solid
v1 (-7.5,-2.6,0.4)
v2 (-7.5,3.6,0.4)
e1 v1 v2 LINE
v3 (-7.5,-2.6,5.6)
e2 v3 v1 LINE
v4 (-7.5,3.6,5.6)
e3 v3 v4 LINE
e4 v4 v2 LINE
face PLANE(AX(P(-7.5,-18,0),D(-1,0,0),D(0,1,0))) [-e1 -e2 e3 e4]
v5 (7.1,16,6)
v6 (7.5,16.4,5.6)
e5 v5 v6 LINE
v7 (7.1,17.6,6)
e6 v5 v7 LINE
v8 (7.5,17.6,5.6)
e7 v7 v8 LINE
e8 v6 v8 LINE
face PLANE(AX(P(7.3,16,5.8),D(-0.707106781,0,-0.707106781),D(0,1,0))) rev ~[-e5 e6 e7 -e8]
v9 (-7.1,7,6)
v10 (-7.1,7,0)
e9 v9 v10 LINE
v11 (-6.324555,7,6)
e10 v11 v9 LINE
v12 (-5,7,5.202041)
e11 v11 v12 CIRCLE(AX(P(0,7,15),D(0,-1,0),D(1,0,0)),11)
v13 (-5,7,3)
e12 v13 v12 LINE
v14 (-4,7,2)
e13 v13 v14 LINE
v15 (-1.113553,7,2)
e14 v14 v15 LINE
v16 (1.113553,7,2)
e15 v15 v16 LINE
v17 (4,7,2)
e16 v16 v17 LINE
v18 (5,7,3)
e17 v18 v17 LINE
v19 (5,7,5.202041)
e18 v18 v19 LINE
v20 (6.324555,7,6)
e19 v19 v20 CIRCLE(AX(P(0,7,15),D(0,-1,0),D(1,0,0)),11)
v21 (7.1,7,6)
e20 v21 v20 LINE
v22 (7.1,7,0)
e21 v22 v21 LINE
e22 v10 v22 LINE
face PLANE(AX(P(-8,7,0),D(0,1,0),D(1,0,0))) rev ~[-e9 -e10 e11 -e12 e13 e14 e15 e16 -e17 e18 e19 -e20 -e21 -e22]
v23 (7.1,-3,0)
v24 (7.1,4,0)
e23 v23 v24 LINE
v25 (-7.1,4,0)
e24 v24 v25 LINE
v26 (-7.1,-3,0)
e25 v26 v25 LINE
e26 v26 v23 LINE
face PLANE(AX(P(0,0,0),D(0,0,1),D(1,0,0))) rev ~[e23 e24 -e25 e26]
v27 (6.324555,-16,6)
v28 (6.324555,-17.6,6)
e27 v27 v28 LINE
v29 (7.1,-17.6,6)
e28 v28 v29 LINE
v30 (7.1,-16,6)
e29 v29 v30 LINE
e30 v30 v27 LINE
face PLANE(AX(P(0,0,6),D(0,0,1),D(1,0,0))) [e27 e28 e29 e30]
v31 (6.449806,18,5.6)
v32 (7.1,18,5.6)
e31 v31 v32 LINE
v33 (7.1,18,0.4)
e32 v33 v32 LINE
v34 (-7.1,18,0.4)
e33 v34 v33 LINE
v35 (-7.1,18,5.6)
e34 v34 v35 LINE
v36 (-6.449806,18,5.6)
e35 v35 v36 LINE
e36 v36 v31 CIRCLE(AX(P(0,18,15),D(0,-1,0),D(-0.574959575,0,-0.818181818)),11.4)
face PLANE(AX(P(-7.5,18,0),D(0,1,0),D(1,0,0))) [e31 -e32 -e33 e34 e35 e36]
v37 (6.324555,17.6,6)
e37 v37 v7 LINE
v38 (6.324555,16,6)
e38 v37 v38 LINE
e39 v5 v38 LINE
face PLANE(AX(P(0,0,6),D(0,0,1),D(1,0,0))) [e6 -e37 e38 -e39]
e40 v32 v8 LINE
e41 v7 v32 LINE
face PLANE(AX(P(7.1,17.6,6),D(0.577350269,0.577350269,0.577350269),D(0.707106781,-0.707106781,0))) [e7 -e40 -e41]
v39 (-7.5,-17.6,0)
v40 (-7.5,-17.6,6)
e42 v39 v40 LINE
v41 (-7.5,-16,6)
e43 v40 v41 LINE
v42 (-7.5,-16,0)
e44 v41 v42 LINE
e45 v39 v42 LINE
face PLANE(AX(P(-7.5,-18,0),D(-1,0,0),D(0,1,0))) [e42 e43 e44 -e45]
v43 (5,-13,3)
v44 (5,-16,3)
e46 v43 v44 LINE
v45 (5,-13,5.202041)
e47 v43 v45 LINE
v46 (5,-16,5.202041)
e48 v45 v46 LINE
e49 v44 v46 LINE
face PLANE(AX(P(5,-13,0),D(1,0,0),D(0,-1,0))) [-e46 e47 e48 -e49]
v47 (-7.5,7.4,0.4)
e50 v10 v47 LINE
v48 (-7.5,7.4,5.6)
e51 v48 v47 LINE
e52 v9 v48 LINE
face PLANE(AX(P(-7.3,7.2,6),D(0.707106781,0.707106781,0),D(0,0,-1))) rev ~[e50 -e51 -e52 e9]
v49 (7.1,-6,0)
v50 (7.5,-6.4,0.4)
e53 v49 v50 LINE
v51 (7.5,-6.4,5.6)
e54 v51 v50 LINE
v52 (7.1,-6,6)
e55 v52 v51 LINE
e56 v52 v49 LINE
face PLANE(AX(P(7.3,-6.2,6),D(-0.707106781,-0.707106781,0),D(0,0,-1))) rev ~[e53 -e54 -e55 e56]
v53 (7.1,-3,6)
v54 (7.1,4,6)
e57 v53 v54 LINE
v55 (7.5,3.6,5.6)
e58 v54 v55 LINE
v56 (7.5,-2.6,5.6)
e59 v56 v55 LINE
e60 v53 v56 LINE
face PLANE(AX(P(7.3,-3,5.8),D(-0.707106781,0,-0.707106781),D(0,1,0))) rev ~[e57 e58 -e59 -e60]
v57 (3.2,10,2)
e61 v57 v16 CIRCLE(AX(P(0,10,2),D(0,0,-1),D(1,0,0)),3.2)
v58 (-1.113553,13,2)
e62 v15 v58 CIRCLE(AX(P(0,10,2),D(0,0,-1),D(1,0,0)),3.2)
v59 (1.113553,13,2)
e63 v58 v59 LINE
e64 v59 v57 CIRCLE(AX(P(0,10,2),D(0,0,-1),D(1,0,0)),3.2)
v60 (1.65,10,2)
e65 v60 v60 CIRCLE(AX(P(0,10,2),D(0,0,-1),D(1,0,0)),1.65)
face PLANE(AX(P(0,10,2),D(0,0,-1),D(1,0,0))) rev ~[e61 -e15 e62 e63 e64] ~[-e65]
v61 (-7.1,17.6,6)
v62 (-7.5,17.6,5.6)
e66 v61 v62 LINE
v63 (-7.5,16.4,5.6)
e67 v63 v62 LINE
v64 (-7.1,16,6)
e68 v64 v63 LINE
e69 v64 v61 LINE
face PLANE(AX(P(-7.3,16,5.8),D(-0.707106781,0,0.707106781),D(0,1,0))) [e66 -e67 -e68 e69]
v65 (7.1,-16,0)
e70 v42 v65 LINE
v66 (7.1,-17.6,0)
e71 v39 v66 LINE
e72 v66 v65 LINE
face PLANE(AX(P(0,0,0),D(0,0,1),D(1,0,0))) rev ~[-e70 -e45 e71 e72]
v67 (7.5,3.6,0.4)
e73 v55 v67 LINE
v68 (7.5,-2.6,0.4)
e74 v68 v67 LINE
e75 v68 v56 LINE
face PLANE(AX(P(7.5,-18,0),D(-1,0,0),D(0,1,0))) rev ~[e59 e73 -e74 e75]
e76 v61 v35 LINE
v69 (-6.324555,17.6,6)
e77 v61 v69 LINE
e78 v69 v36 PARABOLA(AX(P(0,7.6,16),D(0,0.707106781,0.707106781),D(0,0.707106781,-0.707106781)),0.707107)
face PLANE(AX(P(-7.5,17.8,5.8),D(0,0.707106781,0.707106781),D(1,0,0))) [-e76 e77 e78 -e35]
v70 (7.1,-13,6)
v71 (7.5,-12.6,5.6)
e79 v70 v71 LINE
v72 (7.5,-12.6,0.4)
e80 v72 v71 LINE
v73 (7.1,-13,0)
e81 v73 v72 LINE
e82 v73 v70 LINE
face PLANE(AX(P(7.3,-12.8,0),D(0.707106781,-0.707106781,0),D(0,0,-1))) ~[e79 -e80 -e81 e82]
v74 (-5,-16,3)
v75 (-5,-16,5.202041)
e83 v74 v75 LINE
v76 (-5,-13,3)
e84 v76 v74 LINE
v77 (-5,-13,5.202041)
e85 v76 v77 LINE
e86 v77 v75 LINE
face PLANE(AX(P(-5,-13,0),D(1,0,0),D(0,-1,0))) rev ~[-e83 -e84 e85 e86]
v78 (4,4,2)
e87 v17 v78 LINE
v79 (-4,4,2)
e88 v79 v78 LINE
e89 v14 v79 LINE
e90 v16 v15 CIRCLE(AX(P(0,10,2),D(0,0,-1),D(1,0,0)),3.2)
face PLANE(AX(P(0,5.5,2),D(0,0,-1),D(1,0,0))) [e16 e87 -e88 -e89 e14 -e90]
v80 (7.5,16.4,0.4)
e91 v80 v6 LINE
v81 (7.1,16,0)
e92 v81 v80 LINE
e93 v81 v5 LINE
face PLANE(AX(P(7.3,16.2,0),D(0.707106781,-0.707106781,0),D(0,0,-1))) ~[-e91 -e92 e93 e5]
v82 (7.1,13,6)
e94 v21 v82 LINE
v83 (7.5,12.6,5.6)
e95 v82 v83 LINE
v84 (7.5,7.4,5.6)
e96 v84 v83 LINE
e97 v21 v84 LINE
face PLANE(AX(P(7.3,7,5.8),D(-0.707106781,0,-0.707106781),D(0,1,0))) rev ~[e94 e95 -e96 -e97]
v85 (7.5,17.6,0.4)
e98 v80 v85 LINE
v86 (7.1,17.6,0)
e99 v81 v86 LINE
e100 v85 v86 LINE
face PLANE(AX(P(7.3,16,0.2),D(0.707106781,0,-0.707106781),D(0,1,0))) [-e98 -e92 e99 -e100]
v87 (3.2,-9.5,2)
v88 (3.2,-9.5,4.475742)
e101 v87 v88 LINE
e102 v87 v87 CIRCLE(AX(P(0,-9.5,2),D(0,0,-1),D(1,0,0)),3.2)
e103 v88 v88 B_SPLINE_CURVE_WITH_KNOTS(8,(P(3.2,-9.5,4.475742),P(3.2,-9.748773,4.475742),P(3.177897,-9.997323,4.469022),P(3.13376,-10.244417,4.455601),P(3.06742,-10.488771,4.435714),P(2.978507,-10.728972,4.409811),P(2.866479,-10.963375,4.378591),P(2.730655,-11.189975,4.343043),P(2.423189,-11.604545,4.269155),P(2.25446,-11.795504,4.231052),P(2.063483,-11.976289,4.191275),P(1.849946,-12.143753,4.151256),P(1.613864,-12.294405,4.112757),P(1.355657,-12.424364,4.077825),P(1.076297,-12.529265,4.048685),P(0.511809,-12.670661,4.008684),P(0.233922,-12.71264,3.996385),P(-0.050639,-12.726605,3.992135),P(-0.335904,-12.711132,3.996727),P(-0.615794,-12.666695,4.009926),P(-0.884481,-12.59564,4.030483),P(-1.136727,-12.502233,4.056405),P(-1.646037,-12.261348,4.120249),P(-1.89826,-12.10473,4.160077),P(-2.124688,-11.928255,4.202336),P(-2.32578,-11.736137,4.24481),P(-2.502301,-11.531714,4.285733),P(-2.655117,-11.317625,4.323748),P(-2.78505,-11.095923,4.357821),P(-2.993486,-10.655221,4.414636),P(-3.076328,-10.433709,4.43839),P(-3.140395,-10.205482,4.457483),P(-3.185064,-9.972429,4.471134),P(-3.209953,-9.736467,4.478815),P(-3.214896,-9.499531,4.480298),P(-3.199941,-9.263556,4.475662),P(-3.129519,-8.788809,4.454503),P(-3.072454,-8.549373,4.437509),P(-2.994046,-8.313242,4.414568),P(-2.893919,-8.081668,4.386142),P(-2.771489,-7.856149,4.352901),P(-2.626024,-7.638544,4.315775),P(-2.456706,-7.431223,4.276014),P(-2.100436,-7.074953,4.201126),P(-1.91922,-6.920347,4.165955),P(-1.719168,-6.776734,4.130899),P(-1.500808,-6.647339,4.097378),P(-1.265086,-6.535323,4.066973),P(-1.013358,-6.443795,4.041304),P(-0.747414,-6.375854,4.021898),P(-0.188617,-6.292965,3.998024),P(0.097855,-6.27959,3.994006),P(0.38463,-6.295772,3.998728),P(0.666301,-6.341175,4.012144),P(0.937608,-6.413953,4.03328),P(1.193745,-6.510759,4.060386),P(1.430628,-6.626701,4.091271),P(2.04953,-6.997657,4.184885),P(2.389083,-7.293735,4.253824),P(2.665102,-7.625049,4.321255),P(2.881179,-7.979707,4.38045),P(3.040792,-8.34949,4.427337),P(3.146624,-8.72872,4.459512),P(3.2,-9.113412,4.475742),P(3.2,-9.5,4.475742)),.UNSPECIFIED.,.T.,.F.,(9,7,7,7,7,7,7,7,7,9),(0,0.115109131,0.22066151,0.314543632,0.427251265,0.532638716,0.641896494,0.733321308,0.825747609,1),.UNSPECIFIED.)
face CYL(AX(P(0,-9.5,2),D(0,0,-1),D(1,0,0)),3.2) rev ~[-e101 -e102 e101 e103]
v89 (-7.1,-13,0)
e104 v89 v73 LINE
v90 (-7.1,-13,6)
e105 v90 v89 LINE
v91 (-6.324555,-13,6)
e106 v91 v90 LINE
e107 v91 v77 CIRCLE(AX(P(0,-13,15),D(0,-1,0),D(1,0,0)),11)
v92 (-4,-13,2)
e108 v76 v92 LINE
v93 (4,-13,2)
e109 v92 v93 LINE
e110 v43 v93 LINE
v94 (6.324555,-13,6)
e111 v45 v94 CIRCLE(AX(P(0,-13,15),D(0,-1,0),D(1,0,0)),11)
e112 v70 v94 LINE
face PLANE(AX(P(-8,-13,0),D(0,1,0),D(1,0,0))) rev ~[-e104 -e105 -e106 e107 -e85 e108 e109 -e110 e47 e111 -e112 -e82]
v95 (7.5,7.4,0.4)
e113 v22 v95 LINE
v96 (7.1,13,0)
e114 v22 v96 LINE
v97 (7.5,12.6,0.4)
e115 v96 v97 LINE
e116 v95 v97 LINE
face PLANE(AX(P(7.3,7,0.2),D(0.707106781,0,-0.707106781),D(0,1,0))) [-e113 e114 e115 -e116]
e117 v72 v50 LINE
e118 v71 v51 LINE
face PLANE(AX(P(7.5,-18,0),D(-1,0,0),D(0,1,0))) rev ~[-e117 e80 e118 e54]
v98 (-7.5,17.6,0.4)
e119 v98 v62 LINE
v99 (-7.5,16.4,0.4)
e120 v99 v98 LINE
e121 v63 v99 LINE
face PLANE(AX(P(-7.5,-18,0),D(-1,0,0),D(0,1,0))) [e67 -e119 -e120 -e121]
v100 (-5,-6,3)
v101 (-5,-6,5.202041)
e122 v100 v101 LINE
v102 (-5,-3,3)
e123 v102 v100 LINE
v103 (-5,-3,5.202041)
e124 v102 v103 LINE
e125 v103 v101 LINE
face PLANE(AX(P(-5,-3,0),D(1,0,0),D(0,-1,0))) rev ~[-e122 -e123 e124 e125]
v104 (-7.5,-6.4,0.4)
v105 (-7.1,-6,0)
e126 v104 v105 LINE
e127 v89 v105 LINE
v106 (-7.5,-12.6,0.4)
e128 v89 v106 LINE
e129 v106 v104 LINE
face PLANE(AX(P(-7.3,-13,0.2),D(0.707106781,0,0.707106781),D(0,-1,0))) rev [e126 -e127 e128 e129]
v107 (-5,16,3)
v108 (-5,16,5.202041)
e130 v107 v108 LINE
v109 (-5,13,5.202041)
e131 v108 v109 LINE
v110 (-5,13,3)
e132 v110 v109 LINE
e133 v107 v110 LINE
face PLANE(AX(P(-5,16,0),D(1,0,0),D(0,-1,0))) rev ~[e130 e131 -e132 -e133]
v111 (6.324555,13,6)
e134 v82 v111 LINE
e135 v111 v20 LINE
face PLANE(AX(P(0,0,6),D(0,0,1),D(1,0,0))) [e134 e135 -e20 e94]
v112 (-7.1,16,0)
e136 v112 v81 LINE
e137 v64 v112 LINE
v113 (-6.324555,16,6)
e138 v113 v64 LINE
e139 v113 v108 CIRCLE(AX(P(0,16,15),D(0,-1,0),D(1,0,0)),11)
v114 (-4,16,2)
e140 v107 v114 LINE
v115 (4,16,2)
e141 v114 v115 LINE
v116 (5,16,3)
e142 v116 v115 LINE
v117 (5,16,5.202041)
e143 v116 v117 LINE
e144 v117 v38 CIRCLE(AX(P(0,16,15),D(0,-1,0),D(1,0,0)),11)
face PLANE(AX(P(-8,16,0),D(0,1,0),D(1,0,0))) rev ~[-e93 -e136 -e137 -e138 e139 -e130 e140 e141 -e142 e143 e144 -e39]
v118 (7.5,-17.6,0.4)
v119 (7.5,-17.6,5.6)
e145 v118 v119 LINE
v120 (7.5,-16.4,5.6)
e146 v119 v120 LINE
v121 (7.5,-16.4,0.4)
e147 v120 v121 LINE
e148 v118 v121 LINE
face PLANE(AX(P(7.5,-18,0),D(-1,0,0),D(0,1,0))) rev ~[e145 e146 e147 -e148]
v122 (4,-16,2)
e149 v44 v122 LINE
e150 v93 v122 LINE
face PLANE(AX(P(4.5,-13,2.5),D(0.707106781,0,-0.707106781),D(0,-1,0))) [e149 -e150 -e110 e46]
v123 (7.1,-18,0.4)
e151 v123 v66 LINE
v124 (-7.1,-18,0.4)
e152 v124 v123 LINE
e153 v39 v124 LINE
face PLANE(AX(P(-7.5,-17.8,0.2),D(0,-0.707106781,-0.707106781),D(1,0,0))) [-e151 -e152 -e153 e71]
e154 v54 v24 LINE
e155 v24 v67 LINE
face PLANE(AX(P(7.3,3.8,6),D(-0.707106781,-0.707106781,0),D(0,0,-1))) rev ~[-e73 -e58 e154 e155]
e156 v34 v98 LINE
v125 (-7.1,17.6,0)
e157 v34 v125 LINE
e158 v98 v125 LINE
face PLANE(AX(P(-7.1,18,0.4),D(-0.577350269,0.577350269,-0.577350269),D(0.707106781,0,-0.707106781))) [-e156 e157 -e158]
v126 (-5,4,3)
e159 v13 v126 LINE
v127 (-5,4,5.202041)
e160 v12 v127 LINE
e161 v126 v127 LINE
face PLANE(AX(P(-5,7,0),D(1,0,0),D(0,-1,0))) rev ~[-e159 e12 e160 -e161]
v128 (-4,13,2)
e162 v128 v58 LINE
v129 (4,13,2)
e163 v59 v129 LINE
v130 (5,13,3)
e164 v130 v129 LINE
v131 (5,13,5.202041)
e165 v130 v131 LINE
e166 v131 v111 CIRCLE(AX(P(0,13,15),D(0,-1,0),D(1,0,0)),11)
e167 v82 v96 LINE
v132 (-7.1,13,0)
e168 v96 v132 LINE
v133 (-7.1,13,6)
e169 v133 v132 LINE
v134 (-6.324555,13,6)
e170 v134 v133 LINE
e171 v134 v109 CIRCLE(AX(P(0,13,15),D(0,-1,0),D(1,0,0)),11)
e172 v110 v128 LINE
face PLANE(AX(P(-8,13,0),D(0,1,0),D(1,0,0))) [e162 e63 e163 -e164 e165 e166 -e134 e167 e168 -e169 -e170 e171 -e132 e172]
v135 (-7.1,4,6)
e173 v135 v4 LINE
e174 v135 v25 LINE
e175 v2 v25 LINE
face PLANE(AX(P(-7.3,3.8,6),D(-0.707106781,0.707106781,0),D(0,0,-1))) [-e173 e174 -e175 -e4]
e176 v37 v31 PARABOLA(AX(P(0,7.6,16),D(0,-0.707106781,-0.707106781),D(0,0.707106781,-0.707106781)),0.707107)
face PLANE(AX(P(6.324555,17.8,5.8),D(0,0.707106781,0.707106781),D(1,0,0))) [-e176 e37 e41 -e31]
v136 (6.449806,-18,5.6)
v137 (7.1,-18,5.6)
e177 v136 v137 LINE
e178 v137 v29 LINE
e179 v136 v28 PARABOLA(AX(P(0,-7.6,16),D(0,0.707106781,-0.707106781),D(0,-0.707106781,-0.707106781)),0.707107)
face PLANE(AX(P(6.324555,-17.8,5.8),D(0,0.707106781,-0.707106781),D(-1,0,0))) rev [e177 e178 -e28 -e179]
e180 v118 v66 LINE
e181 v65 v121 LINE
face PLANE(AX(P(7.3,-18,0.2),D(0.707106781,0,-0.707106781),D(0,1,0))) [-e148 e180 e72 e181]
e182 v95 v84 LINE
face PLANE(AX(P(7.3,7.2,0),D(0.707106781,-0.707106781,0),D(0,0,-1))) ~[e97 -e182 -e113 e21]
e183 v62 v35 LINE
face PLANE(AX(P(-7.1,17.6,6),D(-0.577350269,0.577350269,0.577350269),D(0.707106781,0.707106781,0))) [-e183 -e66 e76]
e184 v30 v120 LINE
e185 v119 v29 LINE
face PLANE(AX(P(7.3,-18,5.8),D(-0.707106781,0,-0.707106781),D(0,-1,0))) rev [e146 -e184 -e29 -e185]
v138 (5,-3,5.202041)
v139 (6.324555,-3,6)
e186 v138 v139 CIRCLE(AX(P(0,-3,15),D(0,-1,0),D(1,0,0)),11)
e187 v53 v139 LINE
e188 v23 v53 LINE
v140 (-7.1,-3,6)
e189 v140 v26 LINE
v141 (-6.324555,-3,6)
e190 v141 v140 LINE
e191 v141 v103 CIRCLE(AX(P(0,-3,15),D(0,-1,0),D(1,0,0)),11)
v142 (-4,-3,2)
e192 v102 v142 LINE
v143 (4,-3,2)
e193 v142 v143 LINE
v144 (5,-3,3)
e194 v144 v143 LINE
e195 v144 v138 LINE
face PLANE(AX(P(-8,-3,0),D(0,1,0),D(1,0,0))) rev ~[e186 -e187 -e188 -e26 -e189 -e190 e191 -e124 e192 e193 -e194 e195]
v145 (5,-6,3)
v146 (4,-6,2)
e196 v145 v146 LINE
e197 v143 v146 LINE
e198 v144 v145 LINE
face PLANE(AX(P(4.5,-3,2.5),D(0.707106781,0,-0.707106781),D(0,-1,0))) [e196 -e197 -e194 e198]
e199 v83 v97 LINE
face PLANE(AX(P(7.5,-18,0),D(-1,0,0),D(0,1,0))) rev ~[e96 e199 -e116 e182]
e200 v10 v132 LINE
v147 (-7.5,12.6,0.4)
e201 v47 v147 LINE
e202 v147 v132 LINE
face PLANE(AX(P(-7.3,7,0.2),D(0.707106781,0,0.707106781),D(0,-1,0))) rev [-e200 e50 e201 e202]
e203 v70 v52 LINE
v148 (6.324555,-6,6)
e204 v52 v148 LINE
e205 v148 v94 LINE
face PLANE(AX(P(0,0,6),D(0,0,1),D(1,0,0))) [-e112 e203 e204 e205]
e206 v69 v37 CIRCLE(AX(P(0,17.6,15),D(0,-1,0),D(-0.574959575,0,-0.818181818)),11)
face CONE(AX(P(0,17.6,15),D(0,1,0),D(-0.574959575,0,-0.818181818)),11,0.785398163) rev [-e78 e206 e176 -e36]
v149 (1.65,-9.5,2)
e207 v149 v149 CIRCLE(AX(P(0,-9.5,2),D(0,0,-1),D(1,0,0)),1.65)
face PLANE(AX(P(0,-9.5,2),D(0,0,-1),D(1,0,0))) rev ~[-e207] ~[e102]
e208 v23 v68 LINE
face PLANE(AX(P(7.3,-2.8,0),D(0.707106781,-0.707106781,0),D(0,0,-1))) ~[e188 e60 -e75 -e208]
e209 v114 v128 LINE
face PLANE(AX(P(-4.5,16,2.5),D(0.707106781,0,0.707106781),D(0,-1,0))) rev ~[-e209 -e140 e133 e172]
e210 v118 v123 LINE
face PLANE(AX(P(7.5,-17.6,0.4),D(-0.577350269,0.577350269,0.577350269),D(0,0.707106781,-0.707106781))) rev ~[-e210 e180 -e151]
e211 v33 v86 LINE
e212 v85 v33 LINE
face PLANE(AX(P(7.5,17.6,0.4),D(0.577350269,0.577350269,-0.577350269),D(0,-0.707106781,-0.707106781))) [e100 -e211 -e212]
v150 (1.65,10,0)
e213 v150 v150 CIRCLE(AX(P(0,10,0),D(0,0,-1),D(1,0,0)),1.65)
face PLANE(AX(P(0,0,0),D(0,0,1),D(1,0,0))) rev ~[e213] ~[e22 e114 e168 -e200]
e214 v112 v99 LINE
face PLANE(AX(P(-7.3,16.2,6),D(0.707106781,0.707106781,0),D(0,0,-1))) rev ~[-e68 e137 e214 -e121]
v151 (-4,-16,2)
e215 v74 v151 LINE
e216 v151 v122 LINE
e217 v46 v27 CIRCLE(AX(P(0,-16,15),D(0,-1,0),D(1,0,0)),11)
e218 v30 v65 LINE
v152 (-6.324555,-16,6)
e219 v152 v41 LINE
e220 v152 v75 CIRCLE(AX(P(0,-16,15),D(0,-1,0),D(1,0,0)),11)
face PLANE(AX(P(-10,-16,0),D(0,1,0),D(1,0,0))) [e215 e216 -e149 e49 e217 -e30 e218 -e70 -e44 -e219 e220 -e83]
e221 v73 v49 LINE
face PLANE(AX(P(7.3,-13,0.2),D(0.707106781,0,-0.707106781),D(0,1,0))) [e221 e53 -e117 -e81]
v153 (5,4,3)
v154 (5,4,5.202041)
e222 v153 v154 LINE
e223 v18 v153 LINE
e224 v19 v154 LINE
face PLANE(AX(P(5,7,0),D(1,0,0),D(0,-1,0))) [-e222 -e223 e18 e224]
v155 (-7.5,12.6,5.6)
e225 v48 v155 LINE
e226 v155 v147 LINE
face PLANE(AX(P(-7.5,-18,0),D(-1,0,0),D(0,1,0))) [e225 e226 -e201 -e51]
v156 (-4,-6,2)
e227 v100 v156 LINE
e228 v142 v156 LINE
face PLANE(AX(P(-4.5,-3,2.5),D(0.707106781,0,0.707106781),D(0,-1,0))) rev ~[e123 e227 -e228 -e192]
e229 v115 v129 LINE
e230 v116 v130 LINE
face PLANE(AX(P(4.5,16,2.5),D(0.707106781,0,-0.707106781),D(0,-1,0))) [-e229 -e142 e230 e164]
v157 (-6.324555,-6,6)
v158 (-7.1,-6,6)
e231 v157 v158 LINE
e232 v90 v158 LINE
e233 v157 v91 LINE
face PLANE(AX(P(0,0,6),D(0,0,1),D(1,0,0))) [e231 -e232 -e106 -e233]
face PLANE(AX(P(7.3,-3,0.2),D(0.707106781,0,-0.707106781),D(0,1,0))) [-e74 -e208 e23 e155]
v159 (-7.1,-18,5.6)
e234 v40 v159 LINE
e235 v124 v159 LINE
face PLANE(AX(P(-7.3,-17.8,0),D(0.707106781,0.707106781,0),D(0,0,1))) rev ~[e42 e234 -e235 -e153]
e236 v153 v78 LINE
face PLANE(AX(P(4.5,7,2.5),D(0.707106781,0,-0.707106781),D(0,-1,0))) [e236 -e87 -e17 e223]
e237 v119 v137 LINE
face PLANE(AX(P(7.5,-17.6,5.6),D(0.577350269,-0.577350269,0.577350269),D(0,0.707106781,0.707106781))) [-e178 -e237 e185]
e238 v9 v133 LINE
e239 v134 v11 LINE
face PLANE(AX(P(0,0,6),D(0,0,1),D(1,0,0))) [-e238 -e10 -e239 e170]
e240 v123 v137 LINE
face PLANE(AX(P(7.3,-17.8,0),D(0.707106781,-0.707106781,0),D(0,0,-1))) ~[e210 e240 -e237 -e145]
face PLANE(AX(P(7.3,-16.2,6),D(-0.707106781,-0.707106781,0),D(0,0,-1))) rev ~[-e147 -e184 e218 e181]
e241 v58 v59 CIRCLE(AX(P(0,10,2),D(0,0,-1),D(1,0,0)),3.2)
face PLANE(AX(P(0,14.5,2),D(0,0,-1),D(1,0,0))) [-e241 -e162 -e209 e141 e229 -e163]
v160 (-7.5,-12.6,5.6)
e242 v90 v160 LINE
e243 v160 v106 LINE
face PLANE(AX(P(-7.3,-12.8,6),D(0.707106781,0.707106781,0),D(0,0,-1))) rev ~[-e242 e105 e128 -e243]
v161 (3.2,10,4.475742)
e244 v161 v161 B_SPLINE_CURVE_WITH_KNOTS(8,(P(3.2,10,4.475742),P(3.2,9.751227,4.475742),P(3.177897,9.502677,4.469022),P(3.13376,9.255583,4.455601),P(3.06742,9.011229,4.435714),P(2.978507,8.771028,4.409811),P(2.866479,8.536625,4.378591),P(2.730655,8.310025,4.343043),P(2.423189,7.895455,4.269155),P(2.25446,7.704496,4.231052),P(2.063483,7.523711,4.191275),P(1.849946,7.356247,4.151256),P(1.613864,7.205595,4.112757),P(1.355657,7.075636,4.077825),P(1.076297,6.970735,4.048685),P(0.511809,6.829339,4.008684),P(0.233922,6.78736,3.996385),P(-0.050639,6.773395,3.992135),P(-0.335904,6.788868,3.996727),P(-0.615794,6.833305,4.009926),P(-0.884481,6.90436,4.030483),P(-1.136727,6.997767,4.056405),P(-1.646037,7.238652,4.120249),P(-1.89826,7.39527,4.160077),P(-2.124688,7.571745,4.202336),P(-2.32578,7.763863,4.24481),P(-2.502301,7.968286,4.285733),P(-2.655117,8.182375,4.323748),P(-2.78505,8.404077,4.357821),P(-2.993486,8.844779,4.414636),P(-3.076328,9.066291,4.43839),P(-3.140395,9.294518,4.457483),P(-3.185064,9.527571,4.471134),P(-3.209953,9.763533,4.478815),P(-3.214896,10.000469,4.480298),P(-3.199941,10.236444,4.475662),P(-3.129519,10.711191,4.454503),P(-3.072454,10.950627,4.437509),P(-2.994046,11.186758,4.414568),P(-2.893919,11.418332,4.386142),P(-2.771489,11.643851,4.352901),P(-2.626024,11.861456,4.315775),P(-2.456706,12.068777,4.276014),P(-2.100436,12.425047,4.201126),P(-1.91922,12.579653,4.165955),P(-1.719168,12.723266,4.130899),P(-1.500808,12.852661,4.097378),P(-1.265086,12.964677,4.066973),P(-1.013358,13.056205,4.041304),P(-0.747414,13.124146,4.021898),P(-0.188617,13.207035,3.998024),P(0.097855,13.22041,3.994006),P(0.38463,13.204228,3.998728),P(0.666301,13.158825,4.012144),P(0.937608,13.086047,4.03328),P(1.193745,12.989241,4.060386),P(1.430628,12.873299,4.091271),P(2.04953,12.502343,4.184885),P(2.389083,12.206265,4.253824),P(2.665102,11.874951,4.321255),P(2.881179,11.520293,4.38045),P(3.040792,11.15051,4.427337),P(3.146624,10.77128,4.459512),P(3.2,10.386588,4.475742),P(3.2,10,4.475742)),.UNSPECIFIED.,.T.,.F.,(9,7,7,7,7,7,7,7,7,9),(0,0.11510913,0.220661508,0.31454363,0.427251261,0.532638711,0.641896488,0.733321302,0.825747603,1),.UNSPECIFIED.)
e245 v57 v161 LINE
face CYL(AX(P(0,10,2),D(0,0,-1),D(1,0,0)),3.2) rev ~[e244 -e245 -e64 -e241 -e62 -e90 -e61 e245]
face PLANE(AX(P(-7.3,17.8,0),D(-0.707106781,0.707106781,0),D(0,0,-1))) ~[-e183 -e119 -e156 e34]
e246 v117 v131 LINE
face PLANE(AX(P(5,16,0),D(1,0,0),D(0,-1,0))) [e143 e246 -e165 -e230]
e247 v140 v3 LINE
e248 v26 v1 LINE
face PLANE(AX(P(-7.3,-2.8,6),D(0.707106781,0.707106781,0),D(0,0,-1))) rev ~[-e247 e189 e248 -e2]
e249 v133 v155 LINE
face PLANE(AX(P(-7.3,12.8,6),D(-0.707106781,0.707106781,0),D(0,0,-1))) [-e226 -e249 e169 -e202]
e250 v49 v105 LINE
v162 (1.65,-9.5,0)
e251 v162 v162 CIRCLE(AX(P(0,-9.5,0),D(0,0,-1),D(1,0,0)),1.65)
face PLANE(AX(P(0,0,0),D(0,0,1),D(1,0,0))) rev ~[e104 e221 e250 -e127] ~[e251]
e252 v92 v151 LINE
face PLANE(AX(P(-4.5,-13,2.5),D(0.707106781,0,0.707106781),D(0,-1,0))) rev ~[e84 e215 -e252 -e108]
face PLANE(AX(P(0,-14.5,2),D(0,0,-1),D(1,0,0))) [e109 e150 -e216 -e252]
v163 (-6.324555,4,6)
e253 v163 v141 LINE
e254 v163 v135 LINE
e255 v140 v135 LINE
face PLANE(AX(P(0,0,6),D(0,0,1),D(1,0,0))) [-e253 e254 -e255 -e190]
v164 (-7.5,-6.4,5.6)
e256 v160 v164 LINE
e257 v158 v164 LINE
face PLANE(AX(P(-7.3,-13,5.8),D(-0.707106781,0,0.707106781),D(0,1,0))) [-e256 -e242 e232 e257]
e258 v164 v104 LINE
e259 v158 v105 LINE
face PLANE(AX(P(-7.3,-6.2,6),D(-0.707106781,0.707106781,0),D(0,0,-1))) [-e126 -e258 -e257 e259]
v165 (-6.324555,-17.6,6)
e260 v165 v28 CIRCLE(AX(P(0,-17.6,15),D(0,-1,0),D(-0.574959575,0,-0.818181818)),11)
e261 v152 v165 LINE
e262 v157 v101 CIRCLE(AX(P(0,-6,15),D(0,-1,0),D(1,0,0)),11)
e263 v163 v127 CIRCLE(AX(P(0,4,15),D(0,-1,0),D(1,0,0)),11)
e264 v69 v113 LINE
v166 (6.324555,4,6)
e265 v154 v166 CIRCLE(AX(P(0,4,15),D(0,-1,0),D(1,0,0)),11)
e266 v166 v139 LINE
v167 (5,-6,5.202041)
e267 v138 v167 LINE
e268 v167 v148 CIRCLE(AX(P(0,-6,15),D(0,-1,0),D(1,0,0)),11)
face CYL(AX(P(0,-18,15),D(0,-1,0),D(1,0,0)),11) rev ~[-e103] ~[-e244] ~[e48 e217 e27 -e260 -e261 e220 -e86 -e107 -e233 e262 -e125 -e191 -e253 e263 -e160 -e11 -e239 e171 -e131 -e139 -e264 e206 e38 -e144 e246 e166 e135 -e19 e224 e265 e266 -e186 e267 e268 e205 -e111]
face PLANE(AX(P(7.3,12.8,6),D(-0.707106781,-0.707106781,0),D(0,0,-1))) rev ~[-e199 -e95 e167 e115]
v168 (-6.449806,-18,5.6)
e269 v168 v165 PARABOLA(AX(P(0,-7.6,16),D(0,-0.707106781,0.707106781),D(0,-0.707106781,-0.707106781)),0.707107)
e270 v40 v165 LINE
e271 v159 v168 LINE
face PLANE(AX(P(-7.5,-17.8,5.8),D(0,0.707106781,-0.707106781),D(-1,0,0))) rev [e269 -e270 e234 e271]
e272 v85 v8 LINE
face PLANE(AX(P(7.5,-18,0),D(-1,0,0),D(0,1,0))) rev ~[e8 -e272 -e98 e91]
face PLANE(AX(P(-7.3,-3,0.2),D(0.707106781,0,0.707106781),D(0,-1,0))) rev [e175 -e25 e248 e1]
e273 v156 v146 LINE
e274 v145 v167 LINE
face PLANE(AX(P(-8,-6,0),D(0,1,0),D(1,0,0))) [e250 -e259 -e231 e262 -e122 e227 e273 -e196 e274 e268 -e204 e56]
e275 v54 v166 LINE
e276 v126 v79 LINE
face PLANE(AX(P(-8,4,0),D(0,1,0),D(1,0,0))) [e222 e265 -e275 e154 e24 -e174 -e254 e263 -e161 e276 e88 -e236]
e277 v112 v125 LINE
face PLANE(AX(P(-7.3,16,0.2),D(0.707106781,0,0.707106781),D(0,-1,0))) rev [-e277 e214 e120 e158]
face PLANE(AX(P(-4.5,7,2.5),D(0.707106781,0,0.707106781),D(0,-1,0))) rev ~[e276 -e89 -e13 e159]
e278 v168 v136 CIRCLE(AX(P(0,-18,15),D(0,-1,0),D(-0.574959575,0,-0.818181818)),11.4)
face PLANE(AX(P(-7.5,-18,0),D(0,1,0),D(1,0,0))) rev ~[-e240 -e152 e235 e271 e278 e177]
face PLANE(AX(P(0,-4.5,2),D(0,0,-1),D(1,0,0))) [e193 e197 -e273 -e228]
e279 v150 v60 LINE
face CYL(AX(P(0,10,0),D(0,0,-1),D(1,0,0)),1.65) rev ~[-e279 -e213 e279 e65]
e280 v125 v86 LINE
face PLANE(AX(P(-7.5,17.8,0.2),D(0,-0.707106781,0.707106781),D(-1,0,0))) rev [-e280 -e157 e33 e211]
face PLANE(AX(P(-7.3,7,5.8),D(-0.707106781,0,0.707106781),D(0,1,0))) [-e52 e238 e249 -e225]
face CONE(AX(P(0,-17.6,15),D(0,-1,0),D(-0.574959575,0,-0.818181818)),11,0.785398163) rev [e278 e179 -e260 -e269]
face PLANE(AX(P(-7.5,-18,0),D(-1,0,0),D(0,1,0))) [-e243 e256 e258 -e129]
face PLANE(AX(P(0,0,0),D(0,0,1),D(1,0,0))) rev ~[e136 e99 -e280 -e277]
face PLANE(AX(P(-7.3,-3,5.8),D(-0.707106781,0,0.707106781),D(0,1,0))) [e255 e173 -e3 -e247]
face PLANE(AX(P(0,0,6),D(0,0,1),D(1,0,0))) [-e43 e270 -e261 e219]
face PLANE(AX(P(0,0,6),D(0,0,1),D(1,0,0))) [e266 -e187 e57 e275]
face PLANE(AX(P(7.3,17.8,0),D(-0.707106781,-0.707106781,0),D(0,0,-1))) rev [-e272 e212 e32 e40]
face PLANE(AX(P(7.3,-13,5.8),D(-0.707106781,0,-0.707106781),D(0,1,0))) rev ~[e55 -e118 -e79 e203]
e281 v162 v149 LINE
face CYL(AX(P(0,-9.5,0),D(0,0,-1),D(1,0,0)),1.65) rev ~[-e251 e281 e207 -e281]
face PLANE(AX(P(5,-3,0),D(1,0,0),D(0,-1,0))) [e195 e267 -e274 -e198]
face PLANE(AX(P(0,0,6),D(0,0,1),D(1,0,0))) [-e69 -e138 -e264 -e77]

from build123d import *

# Parameters (mm, degrees)
SKETCH_W                                   = 15
SKETCH_H                                   = 36
PAD_DEPTH                                  = 6
SKETCH001_W                                = 20
SKETCH001_H                                = 3
POCKET_DEPTH                               = 2
SKETCH002_W                                = 3
SKETCH002_H                                = 3
POCKET001_DEPTH                            = 6.001
SKETCH003_R                                = 11
POCKET002_DEPTH                            = 36.001
SKETCH004_R                                = 1.65
POCKET003_DEPTH                            = 6.001
SKETCH005_R                                = 3.2
POCKET004_DEPTH                            = 4.001
CHAMFER004013007011015006009007001023_SIZE = 0.4
CHAMFER004013007011015006009007001024_SIZE = 1


with BuildPart() as part:
    # Sketch → Pad (new body)
    with BuildSketch(Plane.XY):
        Rectangle(SKETCH_W, SKETCH_H)
    extrude(amount=PAD_DEPTH)

    # Sketch001 (on Face5 of Pad) → Pocket (cut)
    with BuildSketch(Plane(origin=(0, 0, 0), x_dir=(1, 0, 0), z_dir=(0, 0, -1))):
        with Locations((0, 14.5)):
            Rectangle(SKETCH001_W, SKETCH001_H)
        with Locations((0, 4.5)):
            Rectangle(SKETCH001_W, SKETCH001_H)
        with Locations((0, -5.5)):
            Rectangle(SKETCH001_W, SKETCH001_H)
        with Locations((0, -14.5)):
            Rectangle(SKETCH001_W, SKETCH001_H)
    extrude(amount=-POCKET_DEPTH, mode=Mode.SUBTRACT)

    # Sketch002 (on Face10 of Pocket) → Pocket001 (cut, through all)
    with BuildSketch(Plane(origin=(0, 0, 0), x_dir=(1, 0, 0), z_dir=(0, 0, -1))):
        with Locations((-6.5, 14.5)):
            Rectangle(SKETCH002_W, SKETCH002_H)
        with Locations((6.5, 14.5)):
            Rectangle(SKETCH002_W, SKETCH002_H)
        with Locations((-6.5, 4.5)):
            Rectangle(SKETCH002_W, SKETCH002_H)
        with Locations((6.5, 4.5)):
            Rectangle(SKETCH002_W, SKETCH002_H)
        with Locations((-6.5, -5.5)):
            Rectangle(SKETCH002_W, SKETCH002_H)
        with Locations((6.5, -5.5)):
            Rectangle(SKETCH002_W, SKETCH002_H)
        with Locations((-6.5, -14.5)):
            Rectangle(SKETCH002_W, SKETCH002_H)
        with Locations((6.5, -14.5)):
            Rectangle(SKETCH002_W, SKETCH002_H)
    extrude(amount=-POCKET001_DEPTH, mode=Mode.SUBTRACT)

    # Sketch003 (on Face26 of Pocket001) → Pocket002 (cut, through all)
    with BuildSketch(Plane.XZ.offset(18)):
        with Locations((0, 15)):
            Circle(SKETCH003_R)
    extrude(amount=-POCKET002_DEPTH, mode=Mode.SUBTRACT)

    # Sketch004 (on Face77 of Pocket002) → Pocket003 (cut, through all)
    with BuildSketch(Plane(origin=(0, 0, 0), x_dir=(1, 0, 0), z_dir=(0, 0, -1))):
        with Locations((0, 9.5)):
            Circle(SKETCH004_R)
        with Locations((0, -10)):
            Circle(SKETCH004_R)
    extrude(amount=-POCKET003_DEPTH, mode=Mode.SUBTRACT)

    # Sketch005 (on Face74 of Pocket003) → Pocket004 (cut, through all)
    with BuildSketch(Plane(origin=(0, 0, 2), x_dir=(1, 0, 0), z_dir=(0, 0, -1))):
        with Locations((0, 9.5)):
            Circle(SKETCH005_R)
        with Locations((0, -10)):
            Circle(SKETCH005_R)
    extrude(amount=-POCKET004_DEPTH, mode=Mode.SUBTRACT)

    # Chamfer004013007011015006009007001023
    chamfer004013007011015006009007001023_edges = [part.edges().sort_by_distance(p)[0] for p in [
        (0, -18, 0),
        (-7.5, -18, 3),
        (-6.912278, -18, 6),
        (0, -18, 4),
        (6.912278, -18, 6),
        (7.5, -18, 3),
        (-7.5, -13, 1),
        (-7.5, -9.5, 0),
        (-7.5, -6, 1),
        (-7.5, -6, 4),
        (-7.5, -9.5, 6),
        (-7.5, -13, 4),
        (-7.5, -3, 4),
        (-7.5, -3, 1),
        (-7.5, 0.5, 0),
        (-7.5, 4, 1),
        (-7.5, 4, 4),
        (-7.5, 0.5, 6),
        (-7.5, 7, 4),
        (-7.5, 7, 1),
        (-7.5, 10, 0),
        (-7.5, 13, 1),
        (-7.5, 13, 4),
        (-7.5, 10, 6),
        (-7.5, 16, 4),
        (-7.5, 16, 1),
        (-7.5, 17, 0),
        (-7.5, 18, 3),
        (-7.5, 17, 6),
        (0, 18, 0),
        (7.5, 18, 3),
        (6.912278, 18, 6),
        (0, 18, 4),
        (-6.912278, 18, 6),
        (7.5, -16, 4),
        (7.5, -16, 1),
        (7.5, -17, 0),
        (7.5, -17, 6),
        (7.5, -6, 4),
        (7.5, -6, 1),
        (7.5, -9.5, 0),
        (7.5, -13, 1),
        (7.5, -13, 4),
        (7.5, -9.5, 6),
        (7.5, 4, 4),
        (7.5, 4, 1),
        (7.5, 0.5, 0),
        (7.5, -3, 1),
        (7.5, -3, 4),
        (7.5, 0.5, 6),
        (7.5, 13, 1),
        (7.5, 10, 0),
        (7.5, 7, 1),
        (7.5, 7, 4),
        (7.5, 10, 6),
        (7.5, 13, 4),
        (7.5, 17, 0),
        (7.5, 16, 1),
        (7.5, 16, 4),
        (7.5, 17, 6),
    ]]
    chamfer(chamfer004013007011015006009007001023_edges, length=CHAMFER004013007011015006009007001023_SIZE)

    # Chamfer004013007011015006009007001024
    chamfer004013007011015006009007001024_edges = [part.edges().sort_by_distance(p)[0] for p in [
        (-5, -14.5, 2),
        (5, -14.5, 2),
        (5, -4.5, 2),
        (-5, -4.5, 2),
        (-5, 5.5, 2),
        (5, 5.5, 2),
        (5, 14.5, 2),
        (-5, 14.5, 2),
    ]]
    chamfer(chamfer004013007011015006009007001024_edges, length=CHAMFER004013007011015006009007001024_SIZE)


solid = part.part
